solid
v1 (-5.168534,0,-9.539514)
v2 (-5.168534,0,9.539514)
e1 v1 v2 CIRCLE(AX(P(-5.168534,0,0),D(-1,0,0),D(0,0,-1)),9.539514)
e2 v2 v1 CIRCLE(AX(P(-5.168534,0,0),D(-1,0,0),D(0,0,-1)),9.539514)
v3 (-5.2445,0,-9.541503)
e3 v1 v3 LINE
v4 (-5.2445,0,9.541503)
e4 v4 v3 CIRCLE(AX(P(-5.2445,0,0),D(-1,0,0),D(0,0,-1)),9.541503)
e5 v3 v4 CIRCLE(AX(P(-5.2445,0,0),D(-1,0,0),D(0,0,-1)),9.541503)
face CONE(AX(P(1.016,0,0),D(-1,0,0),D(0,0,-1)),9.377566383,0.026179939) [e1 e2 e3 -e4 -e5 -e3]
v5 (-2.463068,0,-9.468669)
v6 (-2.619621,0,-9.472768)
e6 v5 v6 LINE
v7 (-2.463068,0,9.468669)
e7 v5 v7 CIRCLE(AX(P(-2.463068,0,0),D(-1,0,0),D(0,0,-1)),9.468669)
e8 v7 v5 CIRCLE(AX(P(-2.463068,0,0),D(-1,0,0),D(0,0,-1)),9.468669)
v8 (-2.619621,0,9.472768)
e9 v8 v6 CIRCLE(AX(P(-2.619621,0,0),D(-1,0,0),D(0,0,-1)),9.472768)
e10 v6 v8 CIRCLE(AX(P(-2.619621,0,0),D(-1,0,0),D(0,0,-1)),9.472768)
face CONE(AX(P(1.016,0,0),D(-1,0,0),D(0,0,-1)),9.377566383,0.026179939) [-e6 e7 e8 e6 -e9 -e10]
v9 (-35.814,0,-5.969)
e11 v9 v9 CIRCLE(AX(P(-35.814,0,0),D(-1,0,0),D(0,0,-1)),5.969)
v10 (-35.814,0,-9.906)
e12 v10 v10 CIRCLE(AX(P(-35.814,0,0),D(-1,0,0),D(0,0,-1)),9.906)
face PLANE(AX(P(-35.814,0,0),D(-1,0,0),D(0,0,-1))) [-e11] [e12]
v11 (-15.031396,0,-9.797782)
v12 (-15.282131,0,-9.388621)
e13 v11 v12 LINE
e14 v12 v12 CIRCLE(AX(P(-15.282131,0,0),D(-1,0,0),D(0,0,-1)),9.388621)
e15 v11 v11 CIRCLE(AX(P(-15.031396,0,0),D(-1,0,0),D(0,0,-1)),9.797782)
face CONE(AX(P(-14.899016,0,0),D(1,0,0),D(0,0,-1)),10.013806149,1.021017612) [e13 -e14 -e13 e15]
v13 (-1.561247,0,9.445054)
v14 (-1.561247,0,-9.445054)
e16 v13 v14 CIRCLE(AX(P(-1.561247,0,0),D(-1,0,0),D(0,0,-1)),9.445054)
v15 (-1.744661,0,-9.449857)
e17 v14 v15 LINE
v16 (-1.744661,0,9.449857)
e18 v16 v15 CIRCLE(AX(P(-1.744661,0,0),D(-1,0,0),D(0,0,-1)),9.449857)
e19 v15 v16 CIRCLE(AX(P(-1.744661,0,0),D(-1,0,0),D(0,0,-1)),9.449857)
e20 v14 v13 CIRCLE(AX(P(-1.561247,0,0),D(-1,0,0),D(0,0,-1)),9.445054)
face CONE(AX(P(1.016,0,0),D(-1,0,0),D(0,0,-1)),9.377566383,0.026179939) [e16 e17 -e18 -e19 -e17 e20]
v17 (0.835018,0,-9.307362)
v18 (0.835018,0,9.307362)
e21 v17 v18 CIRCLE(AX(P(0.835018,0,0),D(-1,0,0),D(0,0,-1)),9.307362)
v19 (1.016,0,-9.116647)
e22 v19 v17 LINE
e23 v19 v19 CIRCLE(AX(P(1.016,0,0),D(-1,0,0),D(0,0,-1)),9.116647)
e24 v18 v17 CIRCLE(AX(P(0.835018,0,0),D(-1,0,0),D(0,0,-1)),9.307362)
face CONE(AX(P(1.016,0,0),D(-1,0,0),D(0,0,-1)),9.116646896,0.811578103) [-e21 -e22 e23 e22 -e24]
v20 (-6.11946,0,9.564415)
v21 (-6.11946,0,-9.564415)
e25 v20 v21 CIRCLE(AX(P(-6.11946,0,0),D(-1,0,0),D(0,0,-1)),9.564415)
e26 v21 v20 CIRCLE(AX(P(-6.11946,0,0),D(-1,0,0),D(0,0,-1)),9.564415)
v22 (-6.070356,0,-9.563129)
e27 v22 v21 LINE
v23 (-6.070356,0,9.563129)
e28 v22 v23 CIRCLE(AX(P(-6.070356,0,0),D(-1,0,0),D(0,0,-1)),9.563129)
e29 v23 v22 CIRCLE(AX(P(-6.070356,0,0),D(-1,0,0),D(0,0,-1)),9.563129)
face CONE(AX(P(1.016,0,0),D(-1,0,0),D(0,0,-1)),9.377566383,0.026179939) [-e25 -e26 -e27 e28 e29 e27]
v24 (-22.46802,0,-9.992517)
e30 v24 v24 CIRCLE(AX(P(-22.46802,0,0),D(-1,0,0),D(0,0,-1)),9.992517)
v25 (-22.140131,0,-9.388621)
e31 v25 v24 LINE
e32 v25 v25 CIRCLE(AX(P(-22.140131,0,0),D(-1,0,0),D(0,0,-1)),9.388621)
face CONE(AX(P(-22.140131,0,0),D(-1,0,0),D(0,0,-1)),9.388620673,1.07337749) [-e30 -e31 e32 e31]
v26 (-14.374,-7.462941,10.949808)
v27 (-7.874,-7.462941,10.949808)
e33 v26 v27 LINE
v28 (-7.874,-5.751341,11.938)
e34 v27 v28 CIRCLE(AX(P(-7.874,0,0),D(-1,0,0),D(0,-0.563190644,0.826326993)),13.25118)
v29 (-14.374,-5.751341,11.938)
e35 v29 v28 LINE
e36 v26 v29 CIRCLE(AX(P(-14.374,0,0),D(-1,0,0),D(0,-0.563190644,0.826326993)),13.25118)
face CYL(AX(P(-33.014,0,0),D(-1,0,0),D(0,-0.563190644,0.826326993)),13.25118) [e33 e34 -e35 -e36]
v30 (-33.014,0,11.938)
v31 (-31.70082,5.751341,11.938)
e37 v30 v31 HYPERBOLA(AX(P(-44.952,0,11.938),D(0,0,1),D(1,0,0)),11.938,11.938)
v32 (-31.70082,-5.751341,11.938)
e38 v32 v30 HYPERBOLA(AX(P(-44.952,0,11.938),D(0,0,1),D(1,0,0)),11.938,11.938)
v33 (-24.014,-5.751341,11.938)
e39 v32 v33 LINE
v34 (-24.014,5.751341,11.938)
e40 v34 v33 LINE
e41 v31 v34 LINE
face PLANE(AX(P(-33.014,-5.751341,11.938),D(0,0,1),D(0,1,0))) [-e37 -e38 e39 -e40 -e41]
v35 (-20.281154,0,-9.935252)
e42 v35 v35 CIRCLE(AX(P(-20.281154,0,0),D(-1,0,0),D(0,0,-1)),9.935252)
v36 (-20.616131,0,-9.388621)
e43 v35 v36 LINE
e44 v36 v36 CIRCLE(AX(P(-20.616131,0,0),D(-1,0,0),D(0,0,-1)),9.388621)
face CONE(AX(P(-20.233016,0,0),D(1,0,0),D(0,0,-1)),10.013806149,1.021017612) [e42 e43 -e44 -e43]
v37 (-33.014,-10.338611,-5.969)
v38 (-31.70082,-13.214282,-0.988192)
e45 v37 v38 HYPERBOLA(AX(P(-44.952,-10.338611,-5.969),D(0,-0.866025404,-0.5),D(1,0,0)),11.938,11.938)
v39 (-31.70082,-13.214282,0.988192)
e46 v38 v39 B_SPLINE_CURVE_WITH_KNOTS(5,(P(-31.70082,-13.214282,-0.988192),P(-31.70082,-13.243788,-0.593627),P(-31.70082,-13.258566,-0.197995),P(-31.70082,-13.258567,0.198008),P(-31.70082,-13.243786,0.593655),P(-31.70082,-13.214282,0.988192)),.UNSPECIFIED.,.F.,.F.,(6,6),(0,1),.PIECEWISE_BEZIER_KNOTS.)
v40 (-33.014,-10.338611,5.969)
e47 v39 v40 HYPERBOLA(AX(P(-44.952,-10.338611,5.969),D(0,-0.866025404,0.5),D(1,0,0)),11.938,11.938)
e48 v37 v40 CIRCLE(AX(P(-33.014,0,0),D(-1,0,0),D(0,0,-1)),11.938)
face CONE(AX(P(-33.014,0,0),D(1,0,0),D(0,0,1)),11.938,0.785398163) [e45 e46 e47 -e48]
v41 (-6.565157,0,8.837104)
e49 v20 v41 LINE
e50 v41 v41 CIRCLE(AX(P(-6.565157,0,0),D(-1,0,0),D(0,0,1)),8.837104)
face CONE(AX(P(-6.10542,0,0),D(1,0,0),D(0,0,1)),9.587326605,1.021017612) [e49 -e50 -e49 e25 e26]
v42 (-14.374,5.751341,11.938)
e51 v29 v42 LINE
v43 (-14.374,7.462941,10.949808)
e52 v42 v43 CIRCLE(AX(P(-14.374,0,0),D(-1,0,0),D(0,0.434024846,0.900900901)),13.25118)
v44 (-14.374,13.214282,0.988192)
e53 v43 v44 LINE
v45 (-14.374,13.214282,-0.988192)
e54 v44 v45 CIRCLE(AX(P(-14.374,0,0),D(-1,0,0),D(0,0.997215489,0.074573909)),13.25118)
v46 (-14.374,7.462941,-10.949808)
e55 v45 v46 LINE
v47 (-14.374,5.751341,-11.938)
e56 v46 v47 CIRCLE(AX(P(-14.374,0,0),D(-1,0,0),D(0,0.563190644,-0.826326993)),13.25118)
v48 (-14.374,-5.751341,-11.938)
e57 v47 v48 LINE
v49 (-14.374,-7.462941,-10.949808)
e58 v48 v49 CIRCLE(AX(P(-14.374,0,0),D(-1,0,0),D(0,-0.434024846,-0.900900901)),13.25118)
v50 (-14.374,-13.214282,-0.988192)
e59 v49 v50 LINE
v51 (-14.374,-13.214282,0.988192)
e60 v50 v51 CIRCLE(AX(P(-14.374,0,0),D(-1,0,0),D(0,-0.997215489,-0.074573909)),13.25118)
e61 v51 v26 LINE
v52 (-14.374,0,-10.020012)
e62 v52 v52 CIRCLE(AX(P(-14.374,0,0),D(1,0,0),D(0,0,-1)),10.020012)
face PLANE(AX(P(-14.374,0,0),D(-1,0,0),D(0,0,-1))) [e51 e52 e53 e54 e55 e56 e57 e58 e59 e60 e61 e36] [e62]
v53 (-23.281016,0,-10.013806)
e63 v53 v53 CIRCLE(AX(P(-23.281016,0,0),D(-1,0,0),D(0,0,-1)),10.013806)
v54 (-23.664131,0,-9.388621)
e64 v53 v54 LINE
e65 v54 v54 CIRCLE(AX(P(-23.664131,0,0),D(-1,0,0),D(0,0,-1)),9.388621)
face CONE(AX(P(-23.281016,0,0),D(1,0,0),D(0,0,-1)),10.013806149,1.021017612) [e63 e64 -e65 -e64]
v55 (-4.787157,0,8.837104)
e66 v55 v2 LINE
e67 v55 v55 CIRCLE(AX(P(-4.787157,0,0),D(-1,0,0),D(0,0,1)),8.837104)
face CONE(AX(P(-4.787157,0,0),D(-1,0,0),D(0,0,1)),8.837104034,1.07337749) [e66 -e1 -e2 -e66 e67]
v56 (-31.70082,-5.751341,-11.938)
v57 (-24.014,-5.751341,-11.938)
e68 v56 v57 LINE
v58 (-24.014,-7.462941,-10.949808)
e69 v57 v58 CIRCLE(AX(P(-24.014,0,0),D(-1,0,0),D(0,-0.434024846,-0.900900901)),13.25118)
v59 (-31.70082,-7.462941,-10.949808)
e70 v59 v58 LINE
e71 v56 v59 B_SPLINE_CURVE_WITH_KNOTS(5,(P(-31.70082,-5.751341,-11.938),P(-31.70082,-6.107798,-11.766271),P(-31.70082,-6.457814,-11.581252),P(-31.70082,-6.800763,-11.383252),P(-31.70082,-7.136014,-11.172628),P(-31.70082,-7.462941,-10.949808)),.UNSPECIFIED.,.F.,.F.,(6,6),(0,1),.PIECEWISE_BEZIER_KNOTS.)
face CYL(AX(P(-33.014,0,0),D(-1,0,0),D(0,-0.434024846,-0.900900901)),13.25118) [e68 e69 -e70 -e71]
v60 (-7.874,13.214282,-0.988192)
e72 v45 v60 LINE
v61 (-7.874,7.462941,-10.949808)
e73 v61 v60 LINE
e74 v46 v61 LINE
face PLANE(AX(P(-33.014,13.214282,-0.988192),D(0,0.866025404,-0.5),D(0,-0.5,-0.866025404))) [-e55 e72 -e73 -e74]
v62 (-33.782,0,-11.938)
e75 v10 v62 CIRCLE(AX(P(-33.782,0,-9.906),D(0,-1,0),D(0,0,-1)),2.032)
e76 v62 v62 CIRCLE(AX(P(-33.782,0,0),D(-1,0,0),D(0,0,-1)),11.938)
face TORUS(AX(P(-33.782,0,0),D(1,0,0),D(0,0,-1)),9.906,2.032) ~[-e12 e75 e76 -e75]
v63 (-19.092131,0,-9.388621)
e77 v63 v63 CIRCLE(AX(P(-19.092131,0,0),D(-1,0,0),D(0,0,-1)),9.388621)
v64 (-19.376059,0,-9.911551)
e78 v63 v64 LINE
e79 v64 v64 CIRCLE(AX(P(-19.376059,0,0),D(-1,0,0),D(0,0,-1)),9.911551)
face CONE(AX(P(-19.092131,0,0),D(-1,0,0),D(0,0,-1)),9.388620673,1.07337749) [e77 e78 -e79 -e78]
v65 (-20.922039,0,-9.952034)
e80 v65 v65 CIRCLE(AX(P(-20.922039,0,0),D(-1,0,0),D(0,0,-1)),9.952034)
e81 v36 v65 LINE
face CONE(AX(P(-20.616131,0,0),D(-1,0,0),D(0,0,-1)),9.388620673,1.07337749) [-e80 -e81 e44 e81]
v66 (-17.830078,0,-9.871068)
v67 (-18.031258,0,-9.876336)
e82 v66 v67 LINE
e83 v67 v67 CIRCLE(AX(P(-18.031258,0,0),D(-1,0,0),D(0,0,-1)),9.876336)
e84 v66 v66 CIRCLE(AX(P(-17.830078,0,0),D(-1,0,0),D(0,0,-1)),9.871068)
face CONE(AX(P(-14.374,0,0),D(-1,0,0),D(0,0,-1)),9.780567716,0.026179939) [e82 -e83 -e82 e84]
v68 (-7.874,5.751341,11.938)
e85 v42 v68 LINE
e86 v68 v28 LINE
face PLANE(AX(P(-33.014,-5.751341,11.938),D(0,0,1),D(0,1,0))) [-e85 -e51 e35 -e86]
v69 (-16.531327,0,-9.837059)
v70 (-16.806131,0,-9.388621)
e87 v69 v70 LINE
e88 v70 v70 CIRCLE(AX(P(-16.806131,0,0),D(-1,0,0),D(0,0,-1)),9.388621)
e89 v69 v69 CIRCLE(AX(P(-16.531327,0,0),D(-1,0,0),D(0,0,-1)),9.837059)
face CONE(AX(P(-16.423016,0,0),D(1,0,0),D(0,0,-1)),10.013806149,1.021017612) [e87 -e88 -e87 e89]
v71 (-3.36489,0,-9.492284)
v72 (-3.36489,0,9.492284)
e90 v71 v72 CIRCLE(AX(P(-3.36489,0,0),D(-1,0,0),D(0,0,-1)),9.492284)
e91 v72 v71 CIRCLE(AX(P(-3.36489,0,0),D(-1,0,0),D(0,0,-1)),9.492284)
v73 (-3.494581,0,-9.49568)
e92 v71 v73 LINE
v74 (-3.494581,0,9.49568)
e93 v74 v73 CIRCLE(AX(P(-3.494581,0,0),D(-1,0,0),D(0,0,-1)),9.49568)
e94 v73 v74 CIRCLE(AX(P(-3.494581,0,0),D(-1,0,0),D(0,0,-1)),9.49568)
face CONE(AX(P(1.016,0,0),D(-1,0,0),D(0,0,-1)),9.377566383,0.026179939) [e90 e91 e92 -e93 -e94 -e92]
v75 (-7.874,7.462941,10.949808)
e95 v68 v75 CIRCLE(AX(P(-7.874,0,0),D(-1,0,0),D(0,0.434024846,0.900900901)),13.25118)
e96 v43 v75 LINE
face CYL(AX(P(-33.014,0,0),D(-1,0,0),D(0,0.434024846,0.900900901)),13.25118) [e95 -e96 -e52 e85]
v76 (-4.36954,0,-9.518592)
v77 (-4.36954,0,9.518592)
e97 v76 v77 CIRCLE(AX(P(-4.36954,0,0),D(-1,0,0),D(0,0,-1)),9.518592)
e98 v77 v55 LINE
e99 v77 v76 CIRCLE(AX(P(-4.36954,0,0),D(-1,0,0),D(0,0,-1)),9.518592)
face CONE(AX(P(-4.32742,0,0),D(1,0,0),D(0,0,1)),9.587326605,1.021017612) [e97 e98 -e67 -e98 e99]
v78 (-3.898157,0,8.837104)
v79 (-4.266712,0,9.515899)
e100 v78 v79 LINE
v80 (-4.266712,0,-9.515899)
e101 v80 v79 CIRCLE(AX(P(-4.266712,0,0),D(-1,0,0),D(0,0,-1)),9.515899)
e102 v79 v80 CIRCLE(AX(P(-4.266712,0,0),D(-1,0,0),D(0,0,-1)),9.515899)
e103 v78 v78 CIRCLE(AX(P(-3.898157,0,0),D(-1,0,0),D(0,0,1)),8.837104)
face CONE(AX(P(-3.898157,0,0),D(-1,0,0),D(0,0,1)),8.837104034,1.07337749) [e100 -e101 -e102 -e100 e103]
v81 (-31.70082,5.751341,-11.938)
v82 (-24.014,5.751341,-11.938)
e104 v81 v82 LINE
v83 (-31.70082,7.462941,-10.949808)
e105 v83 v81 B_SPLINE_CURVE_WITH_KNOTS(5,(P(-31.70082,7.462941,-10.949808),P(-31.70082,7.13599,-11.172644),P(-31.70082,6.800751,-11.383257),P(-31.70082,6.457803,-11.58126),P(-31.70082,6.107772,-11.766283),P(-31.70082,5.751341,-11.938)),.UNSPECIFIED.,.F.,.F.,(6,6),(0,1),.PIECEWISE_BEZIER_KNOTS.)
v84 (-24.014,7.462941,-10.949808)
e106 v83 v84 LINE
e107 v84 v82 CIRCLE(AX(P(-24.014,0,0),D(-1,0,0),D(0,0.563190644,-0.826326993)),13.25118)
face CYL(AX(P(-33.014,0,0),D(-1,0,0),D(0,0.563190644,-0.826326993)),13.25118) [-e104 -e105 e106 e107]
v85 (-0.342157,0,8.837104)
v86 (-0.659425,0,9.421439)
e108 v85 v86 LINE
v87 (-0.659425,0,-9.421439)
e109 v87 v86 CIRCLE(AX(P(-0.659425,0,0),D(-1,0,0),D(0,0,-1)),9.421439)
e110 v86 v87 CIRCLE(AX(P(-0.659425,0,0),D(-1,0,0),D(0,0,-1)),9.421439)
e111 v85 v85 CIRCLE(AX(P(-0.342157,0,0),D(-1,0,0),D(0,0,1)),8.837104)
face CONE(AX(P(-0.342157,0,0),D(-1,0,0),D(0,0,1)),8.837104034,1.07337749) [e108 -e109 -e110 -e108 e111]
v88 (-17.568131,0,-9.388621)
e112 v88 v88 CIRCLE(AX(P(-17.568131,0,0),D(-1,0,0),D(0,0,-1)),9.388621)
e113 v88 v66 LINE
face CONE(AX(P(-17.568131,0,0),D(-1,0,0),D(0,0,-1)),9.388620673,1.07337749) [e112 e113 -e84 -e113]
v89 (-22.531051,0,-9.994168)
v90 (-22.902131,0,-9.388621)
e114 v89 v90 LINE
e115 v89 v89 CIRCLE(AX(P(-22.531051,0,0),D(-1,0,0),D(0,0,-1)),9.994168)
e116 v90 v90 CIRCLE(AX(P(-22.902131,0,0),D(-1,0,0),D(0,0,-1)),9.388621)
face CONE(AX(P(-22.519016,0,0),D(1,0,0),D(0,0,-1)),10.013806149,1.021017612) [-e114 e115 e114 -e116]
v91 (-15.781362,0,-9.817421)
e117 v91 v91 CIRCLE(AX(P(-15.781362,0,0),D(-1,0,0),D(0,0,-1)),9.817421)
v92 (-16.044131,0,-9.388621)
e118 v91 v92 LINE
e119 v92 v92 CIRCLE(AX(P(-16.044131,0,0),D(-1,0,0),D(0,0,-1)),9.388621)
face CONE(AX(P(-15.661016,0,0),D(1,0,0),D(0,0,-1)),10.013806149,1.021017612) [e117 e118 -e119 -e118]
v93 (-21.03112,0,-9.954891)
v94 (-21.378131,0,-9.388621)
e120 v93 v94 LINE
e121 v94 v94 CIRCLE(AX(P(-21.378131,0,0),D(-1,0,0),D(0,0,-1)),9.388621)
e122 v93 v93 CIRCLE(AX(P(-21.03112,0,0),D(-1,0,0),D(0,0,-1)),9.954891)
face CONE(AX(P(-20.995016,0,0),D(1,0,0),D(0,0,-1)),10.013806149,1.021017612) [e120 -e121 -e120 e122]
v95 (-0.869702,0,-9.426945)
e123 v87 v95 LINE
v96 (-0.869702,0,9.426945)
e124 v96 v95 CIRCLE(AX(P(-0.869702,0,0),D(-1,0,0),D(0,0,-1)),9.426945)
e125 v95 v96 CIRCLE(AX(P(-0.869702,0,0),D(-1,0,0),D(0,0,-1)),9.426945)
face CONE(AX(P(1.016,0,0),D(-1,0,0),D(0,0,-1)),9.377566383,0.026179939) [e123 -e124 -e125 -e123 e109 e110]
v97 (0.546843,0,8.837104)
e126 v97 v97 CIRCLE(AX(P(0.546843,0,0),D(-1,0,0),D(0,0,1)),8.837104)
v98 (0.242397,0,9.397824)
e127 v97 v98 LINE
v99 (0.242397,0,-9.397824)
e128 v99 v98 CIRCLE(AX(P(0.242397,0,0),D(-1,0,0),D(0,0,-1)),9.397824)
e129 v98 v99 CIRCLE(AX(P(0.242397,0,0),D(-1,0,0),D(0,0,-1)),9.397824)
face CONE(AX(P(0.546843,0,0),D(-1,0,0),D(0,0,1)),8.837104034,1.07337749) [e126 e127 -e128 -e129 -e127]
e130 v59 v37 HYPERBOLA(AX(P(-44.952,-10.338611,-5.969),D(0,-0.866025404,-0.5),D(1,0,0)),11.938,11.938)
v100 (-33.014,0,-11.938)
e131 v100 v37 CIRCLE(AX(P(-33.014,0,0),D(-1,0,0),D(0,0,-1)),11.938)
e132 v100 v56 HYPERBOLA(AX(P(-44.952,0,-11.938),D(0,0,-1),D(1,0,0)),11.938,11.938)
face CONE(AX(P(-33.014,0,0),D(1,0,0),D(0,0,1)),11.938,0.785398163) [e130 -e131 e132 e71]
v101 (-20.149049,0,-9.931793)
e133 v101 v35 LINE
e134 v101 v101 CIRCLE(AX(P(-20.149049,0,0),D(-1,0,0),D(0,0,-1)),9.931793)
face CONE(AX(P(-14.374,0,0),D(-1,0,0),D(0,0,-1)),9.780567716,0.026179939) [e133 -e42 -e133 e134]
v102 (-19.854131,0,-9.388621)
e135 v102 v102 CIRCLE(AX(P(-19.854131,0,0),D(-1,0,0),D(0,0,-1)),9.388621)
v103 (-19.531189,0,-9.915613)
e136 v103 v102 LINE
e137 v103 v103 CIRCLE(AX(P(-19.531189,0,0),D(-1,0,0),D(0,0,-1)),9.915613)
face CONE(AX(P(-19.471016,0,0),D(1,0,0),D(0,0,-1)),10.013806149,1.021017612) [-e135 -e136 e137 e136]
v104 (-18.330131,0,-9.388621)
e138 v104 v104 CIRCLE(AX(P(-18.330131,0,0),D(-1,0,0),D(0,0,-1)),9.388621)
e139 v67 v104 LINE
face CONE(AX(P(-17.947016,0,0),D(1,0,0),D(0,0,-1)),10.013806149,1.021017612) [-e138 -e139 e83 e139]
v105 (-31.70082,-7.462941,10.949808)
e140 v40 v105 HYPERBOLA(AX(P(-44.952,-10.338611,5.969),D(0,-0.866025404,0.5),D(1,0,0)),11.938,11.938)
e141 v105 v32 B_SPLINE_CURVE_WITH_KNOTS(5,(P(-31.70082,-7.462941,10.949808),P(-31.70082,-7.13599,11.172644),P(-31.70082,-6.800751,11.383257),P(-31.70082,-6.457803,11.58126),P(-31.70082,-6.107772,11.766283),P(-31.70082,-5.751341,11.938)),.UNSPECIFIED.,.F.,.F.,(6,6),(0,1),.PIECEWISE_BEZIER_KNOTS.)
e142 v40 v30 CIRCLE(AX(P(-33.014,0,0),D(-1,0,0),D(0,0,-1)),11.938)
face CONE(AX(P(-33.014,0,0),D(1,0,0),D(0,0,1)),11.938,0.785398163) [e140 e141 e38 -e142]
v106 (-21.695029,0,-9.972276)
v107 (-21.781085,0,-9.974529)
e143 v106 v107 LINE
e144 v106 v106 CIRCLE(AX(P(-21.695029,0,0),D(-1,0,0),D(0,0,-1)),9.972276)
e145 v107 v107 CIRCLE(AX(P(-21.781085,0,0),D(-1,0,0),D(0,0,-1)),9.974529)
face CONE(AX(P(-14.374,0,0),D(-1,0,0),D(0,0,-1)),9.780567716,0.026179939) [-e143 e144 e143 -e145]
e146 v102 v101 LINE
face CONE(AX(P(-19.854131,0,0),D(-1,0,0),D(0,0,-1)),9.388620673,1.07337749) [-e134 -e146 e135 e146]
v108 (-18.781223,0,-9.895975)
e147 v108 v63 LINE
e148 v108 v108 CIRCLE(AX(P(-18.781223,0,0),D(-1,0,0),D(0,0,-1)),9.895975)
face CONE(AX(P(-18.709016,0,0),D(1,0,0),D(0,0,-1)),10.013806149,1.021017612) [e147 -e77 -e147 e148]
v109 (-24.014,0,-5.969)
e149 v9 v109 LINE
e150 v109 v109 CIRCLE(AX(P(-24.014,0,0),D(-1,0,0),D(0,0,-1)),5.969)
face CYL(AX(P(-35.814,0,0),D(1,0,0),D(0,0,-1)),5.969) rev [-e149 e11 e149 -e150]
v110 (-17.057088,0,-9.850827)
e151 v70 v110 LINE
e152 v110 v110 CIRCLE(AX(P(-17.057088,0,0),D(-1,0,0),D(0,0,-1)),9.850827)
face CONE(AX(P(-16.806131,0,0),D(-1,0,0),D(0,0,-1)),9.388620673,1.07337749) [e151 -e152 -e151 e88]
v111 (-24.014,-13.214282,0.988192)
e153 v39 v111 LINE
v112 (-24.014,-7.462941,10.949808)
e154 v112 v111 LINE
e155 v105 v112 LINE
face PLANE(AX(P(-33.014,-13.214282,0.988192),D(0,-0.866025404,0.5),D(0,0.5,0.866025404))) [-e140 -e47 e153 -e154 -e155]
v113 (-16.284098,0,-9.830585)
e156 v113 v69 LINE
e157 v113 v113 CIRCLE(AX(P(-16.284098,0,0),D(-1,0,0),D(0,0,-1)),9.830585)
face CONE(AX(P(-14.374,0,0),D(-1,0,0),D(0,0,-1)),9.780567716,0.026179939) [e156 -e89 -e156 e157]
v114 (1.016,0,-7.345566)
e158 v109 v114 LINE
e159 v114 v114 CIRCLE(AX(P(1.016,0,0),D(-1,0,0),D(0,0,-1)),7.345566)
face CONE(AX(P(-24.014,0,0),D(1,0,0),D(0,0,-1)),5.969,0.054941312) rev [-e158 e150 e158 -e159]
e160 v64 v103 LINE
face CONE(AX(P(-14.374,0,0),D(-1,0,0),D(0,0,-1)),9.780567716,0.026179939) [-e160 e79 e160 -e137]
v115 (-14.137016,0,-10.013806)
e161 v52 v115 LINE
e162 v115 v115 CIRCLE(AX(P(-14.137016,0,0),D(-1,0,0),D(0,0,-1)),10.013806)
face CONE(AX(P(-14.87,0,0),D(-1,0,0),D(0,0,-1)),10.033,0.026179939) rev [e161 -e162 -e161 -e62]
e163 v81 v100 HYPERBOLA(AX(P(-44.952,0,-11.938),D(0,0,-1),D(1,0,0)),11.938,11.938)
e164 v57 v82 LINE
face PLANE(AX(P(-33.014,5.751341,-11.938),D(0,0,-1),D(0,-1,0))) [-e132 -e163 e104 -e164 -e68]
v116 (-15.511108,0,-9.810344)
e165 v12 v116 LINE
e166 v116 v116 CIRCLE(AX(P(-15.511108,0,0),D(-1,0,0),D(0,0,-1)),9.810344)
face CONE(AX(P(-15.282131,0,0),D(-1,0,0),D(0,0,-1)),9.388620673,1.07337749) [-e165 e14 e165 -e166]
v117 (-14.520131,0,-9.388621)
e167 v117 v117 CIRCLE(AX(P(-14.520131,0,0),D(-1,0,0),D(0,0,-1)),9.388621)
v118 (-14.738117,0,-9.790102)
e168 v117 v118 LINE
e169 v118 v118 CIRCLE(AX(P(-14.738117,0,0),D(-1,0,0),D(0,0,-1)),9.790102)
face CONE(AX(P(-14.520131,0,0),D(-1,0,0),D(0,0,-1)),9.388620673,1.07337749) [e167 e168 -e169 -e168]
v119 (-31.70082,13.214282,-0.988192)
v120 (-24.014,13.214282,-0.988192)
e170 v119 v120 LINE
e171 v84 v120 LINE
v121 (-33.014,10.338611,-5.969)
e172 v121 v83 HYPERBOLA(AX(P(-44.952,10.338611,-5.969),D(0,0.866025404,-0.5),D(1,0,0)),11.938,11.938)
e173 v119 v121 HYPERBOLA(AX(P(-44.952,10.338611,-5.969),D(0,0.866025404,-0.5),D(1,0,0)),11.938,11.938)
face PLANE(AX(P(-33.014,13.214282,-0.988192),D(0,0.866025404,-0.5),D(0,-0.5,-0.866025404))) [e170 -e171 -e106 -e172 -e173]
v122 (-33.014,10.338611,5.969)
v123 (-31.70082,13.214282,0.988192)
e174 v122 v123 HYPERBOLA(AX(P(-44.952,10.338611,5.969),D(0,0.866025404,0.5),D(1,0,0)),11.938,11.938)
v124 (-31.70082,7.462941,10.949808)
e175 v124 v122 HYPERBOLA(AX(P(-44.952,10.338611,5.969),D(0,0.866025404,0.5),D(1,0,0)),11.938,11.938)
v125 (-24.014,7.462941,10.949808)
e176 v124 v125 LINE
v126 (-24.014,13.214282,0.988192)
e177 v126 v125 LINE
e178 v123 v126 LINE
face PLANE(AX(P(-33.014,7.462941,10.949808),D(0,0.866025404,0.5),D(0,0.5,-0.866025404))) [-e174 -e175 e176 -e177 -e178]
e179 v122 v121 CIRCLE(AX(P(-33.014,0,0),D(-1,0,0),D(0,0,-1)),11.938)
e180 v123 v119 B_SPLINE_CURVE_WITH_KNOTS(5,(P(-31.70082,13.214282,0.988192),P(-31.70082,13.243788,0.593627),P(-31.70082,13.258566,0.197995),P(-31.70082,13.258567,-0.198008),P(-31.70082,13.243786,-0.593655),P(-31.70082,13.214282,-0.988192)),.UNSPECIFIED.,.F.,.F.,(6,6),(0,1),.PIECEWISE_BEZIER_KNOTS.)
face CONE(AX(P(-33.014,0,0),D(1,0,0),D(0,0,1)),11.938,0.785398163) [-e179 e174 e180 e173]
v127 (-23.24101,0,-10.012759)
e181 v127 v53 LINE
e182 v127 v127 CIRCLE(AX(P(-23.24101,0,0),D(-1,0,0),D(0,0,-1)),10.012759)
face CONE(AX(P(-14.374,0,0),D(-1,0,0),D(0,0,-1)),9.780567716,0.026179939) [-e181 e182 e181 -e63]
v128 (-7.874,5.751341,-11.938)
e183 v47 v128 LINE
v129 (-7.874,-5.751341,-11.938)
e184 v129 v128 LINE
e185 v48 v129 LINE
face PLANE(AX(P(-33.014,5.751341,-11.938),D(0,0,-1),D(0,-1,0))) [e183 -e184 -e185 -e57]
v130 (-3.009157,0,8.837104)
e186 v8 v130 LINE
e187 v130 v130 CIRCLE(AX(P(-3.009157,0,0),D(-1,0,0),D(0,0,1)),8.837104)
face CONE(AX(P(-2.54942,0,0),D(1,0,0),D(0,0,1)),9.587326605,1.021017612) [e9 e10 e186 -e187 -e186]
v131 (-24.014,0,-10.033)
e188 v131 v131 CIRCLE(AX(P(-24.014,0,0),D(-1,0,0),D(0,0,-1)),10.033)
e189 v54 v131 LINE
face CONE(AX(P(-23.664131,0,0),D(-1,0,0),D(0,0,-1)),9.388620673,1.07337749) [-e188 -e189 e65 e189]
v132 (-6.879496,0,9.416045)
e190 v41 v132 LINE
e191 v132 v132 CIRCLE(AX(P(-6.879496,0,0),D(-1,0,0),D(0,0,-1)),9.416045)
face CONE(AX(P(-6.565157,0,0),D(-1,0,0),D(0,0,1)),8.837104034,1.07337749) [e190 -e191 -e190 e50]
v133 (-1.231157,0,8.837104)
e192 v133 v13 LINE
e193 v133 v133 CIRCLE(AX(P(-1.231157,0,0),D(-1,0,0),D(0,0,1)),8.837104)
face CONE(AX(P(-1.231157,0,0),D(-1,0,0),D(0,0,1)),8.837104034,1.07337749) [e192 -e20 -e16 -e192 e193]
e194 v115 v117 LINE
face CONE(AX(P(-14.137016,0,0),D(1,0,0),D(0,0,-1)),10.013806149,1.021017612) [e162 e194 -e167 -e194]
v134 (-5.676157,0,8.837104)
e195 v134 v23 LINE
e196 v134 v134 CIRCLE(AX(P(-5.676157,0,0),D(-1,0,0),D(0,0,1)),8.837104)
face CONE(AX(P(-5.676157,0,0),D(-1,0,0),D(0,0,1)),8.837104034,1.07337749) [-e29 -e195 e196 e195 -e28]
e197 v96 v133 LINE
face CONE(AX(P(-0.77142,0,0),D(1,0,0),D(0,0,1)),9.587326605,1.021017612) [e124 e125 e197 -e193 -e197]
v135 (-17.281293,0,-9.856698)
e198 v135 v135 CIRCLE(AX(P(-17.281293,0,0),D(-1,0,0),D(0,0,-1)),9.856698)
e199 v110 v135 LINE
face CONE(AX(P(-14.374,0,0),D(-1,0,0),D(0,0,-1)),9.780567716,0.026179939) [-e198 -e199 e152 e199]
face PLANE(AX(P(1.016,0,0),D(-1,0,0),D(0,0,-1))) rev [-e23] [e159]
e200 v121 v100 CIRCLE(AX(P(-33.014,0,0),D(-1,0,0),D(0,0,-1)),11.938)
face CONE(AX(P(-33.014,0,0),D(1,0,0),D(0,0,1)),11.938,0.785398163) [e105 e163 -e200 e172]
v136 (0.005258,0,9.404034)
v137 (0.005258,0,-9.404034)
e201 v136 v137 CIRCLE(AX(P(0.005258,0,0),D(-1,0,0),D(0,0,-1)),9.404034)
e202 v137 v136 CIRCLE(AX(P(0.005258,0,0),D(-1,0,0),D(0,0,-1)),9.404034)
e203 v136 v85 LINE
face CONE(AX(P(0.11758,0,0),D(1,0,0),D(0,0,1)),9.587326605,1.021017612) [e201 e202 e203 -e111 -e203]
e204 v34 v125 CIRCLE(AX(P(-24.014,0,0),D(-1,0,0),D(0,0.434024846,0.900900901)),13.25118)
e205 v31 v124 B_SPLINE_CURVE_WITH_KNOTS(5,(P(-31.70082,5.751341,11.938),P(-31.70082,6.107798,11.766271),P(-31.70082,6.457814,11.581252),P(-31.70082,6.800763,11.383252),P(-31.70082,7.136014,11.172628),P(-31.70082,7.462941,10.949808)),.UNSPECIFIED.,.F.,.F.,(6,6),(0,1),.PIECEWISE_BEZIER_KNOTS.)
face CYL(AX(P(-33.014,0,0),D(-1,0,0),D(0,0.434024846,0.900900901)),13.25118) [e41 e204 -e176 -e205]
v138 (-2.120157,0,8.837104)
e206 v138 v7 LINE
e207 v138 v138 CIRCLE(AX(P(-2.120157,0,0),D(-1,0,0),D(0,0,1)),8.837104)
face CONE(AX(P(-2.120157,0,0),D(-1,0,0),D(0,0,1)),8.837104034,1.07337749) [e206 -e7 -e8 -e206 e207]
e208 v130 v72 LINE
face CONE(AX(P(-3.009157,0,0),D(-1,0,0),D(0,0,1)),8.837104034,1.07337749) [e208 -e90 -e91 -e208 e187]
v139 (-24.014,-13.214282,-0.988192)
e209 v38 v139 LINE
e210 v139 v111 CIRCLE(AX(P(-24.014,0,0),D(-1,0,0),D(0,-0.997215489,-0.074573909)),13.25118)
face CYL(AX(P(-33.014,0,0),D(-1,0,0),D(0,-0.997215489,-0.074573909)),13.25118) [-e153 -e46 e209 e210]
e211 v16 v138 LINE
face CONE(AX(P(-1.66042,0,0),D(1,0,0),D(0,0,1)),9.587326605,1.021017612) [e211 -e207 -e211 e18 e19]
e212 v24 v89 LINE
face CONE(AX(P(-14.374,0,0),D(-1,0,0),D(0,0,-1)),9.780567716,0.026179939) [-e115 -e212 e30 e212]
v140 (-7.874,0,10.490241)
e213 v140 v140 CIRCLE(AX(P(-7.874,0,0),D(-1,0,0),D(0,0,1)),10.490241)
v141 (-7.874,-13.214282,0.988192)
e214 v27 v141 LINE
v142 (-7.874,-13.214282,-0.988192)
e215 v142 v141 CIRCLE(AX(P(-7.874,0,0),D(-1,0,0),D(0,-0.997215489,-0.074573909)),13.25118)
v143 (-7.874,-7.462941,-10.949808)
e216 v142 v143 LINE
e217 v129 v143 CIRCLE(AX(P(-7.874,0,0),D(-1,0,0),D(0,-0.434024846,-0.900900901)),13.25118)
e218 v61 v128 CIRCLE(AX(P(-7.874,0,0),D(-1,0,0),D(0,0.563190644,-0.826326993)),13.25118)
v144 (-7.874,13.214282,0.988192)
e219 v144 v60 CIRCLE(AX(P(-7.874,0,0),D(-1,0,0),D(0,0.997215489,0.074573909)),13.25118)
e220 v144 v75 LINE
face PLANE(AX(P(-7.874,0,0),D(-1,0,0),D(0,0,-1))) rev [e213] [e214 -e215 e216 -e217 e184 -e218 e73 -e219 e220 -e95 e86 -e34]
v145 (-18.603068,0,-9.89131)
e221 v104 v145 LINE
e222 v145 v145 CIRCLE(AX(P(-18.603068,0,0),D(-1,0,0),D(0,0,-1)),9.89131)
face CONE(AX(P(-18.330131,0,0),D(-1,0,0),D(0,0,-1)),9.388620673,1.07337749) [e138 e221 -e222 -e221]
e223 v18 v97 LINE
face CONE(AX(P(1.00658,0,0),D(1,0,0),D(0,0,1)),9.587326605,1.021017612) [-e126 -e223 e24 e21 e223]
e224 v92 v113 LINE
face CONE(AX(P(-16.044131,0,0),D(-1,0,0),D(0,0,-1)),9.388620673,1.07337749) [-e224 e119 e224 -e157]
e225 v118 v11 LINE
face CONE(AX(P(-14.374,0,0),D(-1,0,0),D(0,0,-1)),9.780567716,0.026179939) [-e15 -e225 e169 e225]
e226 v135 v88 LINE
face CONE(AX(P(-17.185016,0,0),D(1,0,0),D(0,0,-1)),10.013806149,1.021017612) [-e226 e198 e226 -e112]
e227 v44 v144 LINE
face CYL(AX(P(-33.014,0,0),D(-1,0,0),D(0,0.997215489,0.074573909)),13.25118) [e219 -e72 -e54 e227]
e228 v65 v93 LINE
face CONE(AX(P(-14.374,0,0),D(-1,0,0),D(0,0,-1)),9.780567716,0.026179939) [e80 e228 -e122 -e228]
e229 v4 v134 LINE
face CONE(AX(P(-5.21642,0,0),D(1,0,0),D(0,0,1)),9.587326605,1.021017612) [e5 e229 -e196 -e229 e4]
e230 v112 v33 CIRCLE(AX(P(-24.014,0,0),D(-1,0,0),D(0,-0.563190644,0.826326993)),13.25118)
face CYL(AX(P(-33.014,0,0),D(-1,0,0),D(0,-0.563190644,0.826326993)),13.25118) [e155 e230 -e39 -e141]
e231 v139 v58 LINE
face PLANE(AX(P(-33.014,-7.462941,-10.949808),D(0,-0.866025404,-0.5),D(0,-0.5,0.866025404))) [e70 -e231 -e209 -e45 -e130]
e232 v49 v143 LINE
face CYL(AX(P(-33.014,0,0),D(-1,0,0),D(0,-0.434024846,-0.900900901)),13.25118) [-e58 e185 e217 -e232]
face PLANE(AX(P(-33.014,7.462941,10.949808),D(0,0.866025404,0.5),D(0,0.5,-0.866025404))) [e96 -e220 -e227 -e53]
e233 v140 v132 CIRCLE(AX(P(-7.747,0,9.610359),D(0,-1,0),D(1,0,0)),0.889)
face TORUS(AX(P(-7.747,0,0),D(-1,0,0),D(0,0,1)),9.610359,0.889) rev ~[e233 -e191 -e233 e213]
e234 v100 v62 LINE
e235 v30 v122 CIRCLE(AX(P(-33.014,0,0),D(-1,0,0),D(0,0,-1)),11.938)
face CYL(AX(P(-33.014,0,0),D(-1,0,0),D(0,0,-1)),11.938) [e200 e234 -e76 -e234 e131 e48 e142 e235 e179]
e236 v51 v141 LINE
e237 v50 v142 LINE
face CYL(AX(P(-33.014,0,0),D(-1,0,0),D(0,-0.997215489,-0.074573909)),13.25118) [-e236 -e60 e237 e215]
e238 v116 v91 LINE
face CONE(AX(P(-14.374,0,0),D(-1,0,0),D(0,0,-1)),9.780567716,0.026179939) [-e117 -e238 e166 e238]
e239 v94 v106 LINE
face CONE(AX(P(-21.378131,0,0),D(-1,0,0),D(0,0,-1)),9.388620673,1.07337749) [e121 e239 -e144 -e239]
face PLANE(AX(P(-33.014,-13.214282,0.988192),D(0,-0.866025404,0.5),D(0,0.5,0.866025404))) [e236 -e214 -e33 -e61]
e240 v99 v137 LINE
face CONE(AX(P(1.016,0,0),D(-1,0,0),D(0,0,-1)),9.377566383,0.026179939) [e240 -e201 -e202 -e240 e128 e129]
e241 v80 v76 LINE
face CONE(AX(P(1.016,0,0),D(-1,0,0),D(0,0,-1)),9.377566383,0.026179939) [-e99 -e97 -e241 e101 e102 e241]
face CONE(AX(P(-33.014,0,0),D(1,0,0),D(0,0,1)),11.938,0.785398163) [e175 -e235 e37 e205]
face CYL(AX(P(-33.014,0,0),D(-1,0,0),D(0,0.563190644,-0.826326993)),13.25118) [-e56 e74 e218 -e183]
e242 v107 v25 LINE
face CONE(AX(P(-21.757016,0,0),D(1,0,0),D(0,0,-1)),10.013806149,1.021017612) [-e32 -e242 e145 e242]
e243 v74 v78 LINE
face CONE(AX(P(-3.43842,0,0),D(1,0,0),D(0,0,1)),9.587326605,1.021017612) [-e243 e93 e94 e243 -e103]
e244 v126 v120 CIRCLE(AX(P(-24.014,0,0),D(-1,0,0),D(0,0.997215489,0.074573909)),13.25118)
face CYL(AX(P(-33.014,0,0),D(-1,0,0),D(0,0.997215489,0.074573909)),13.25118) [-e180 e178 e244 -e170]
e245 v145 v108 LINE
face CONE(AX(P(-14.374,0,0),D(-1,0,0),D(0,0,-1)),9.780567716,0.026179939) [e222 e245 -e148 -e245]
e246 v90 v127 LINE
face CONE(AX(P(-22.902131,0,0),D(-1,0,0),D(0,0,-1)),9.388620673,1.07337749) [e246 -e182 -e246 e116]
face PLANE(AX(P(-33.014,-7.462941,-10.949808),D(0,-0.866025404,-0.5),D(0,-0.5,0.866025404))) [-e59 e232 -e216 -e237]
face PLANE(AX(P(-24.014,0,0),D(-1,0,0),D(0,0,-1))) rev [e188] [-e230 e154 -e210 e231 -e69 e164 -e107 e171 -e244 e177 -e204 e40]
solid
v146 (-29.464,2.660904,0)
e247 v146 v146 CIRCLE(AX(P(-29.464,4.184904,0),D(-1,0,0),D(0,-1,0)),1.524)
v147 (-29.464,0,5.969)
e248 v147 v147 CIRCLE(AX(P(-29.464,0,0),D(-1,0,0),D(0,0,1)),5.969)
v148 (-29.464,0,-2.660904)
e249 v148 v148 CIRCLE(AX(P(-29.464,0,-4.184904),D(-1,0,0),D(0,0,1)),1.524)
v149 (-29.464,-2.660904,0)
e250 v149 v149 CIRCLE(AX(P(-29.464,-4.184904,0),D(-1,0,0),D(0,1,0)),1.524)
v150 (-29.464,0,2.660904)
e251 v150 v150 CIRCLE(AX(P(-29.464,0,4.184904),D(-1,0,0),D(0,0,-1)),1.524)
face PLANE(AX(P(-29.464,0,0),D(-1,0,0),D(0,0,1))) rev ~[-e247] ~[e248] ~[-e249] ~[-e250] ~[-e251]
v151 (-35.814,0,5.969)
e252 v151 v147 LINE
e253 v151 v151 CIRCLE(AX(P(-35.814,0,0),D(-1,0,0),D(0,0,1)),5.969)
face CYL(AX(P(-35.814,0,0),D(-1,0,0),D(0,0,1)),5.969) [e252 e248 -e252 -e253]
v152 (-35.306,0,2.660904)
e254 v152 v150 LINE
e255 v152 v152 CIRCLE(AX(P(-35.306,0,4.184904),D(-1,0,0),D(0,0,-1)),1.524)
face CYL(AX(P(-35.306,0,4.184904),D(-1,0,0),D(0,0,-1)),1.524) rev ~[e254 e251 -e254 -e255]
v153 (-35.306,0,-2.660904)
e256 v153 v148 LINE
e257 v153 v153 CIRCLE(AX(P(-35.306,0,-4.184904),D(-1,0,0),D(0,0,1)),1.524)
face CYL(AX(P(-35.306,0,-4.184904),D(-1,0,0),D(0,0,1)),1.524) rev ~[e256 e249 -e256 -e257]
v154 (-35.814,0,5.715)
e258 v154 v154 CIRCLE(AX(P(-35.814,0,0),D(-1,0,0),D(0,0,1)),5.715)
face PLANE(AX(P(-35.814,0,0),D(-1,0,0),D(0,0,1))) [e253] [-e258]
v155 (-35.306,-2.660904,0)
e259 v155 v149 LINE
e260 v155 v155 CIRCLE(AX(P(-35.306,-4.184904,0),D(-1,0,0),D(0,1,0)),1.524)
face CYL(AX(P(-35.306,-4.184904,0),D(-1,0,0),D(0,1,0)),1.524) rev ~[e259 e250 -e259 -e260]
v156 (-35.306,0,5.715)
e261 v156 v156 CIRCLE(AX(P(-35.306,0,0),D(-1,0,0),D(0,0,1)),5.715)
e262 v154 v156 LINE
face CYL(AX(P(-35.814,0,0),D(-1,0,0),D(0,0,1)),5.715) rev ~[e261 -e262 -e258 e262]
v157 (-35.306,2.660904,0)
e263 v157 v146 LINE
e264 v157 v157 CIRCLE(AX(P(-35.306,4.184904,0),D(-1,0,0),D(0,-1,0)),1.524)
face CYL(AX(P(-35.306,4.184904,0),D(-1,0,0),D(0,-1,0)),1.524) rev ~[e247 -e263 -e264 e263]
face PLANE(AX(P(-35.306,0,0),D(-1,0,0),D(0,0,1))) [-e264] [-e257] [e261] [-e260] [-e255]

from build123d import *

# Parameters (mm, degrees)
SKETCH12_OUTSIDE_W = 65.136
SKETCH12_OUTSIDE_H = 65.136
CUT_EXTRUDE2_DEPTH = 35.03
FILLET4_R          = 2.032
SKETCH19_OUTSIDE_W = 40.13
SKETCH19_OUTSIDE_H = 42.756
SKETCH19_OUTSIDE_R = 11.938
CUT_EXTRUDE3_DEPTH = 1.999996
CUT_EXTRUDE3_DRAFT = -45
CHAMFER1_SIZE      = 0.260919487
CHAMFER1_SIZE2     = 0.254
SKETCH21_R         = 5.969
PLUG_DEPTH         = 6.35
SKETCH22_R         = 5.715
CUT_EXTRUDE4_DEPTH = 0.508
SKETCH27_R         = 1.524
PLUGHOLES_DEPTH    = 37.322
CIRPATTERN1_COUNT  = 4
LPATTERN1_COUNT    = 13
LPATTERN1_PITCH    = 0.762
LPATTERN2_COUNT    = 10
LPATTERN2_PITCH    = 0.889
SKETCH32_R         = 0.889


with BuildPart() as part:
    # Sketch10 → Revolve2 (revolve)
    with BuildSketch(Plane.XY, mode=Mode.PRIVATE) as revolve2_sk:
        Polygon((-35.814, 5.969), (-24.014, 5.969), (1.016, 7.345566383), (1.016, 9.377566383), (-7.874, 9.610359226), (-7.874, 23.876), (-14.374, 23.876), (-14.374, 9.780567716), (-24.014, 10.033), (-24.014, 23.876), (-33.014, 23.876), (-33.014, 11.938), (-35.814, 11.938), align=None)
    revolve(revolve2_sk.sketch.rotate(Axis((0, 0, 0), (-1, 0, 0)), 90), axis=Axis((0, 0, 0), (-1, 0, 0)))  # turned: the seam where the file's is

    # Sketch12 outside → Cut-Extrude2 (cut, through all)
    with BuildSketch(Plane.ZY.offset(33.014)):
        Rectangle(SKETCH12_OUTSIDE_W, SKETCH12_OUTSIDE_H)
        with BuildLine():
            Line((-0.98819228, 13.214281948), (-10.94980772, 7.462940592))
            ThreePointArc((-10.94980772, 7.462940592), (-11.47585851, 6.62559), (-11.938, 5.751341356))
            Line((-11.938, 5.751341356), (-11.938, -5.751341356))
            ThreePointArc((-11.938, -5.751341356), (-11.47585851, -6.62559), (-10.94980772, -7.462940592))
            Line((-10.94980772, -7.462940592), (-0.98819228, -13.214281948))
            ThreePointArc((-0.98819228, -13.214281948), (0, -13.25118), (0.98819228, -13.214281948))
            Line((0.98819228, -13.214281948), (10.94980772, -7.462940592))
            ThreePointArc((10.94980772, -7.462940592), (11.47585851, -6.62559), (11.938, -5.751341356))
            Line((11.938, -5.751341356), (11.938, 5.751341356))
            ThreePointArc((11.938, 5.751341356), (11.47585851, 6.62559), (10.94980772, 7.462940592))
            Line((10.94980772, 7.462940592), (0.98819228, 13.214281948))
            ThreePointArc((0.98819228, 13.214281948), (0, 13.25118), (-0.98819228, 13.214281948))
        make_face(mode=Mode.SUBTRACT)
    extrude(amount=-CUT_EXTRUDE2_DEPTH, mode=Mode.SUBTRACT)

    # Fillet4
    fillet4_edges = [part.edges().sort_by_distance(p)[0] for p in [
        (-35.814, 0, 11.938),
    ]]
    fillet(fillet4_edges, radius=FILLET4_R)


with BuildPart() as cut_extrude3_tool:
    # Sketch19 outside → Cut-Extrude3 (with draft: the straight prism first)
    with BuildSketch(Plane.ZY.offset(33.014)):
        Rectangle(SKETCH19_OUTSIDE_W, SKETCH19_OUTSIDE_H)
        Circle(SKETCH19_OUTSIDE_R, mode=Mode.SUBTRACT)
    extrude(amount=-CUT_EXTRUDE3_DEPTH)
    # Cut-Extrude3: the draft: its side faces are tilted about the plane it starts from
    cut_extrude3_sides = [cut_extrude3_tool.faces().sort_by_distance(p)[0] for p in [
        (-32.014002, -21.378, 0),
        (-32.014002, 0, 20.065),
        (-32.014002, 21.378, 0),
        (-32.014002, 0, -20.065),
        (-32.014002, 0, -11.938),
    ]]
    draft(cut_extrude3_sides, Plane.ZY.offset(33.014), CUT_EXTRUDE3_DRAFT)


with BuildPart() as part_1:
    add(part.part)

    # Cut-Extrude3: cut by cut_extrude3_tool
    add(cut_extrude3_tool.part, mode=Mode.SUBTRACT)

    # Chamfer1
    chamfer1_edges = [part_1.edges().sort_by_distance(p)[0] for p in [
        (1.016, 0, 9.377566383),
    ]]
    chamfer1_side = [part_1.faces().sort_by_distance(p)[0] for p in [
        (1.016, 0, 7.610804014),
    ]]
    chamfer(chamfer1_edges, length=CHAMFER1_SIZE, length2=CHAMFER1_SIZE2, reference=chamfer1_side[0])

    # Sketch29 → Cut-Revolve1 (revolve, cut)
    with BuildSketch(Plane.XY, mode=Mode.PRIVATE) as cut_revolve1_sk:
        Polygon((-24.014, 10.033), (-23.281016419, 10.013806149), (-23.664130572, 9.388620673), align=None)
    cut_revolve1 = revolve(cut_revolve1_sk.sketch.rotate(Axis((0, 0, 0), (-1, 0, 0)), 90), axis=Axis((0, 0, 0), (-1, 0, 0)), mode=Mode.SUBTRACT)  # turned: the seam where the file's is

    # LPattern1: Cut-Revolve1 ×13
    with Locations(*[(i * LPATTERN1_PITCH, 0, 0) for i in range(1, LPATTERN1_COUNT)]):
        add(cut_revolve1, mode=Mode.SUBTRACT)

    # Sketch30 → Cut-Revolve2 (revolve, cut)
    with BuildSketch(Plane.XY, mode=Mode.PRIVATE) as cut_revolve2_sk:
        Polygon((-7.874, 9.610359226), (-6.994419703, 9.587326605), (-7.454156686, 8.837104034), align=None)
    cut_revolve2 = revolve(cut_revolve2_sk.sketch.rotate(Axis((0, 0, 0), (-1, 0, 0)), 270), axis=Axis((0, 0, 0), (-1, 0, 0)), mode=Mode.SUBTRACT)  # turned: the seam where the file's is

    # LPattern2: Cut-Revolve2 ×10
    with Locations(*[(i * LPATTERN2_PITCH, 0, 0) for i in range(1, LPATTERN2_COUNT)]):
        add(cut_revolve2, mode=Mode.SUBTRACT)

    # Sketch32 → Cut-Revolve3 (revolve, cut)
    with BuildSketch(Plane.XY, mode=Mode.PRIVATE) as cut_revolve3_sk:
        with Locations((-7.747, 9.610359226)):
            Circle(SKETCH32_R)
    revolve(cut_revolve3_sk.sketch.rotate(Axis((0, 0, 0), (-1, 0, 0)), 270), axis=Axis((0, 0, 0), (-1, 0, 0)), mode=Mode.SUBTRACT)  # turned: the seam where the file's is


with BuildPart() as body_2:
    # Sketch21 → plug (new body)
    with BuildSketch(Plane.ZY.offset(35.814)):
        Circle(SKETCH21_R)
    extrude(amount=-PLUG_DEPTH)

    # Sketch22 → Cut-Extrude4 (cut)
    with BuildSketch(Plane.ZY.offset(35.814)):
        Circle(SKETCH22_R)
    extrude(amount=-CUT_EXTRUDE4_DEPTH, mode=Mode.SUBTRACT)

    # Sketch27 → plugholes (cut, through all)
    with BuildSketch(Plane.ZY.offset(35.306)):
        with Locations((-4.184904, 0)):
            Circle(SKETCH27_R)
    plugholes = extrude(amount=-PLUGHOLES_DEPTH, mode=Mode.SUBTRACT)

    # CirPattern1: plugholes ×4 about axis
    cirpattern1_axis = Axis((0, 0, 0), (1, 0, 0))
    for i in range(1, CIRPATTERN1_COUNT):
        add(plugholes.rotate(cirpattern1_axis, i * 360 / CIRPATTERN1_COUNT), mode=Mode.SUBTRACT)


solid = Compound([part_1.part, body_2.part])
